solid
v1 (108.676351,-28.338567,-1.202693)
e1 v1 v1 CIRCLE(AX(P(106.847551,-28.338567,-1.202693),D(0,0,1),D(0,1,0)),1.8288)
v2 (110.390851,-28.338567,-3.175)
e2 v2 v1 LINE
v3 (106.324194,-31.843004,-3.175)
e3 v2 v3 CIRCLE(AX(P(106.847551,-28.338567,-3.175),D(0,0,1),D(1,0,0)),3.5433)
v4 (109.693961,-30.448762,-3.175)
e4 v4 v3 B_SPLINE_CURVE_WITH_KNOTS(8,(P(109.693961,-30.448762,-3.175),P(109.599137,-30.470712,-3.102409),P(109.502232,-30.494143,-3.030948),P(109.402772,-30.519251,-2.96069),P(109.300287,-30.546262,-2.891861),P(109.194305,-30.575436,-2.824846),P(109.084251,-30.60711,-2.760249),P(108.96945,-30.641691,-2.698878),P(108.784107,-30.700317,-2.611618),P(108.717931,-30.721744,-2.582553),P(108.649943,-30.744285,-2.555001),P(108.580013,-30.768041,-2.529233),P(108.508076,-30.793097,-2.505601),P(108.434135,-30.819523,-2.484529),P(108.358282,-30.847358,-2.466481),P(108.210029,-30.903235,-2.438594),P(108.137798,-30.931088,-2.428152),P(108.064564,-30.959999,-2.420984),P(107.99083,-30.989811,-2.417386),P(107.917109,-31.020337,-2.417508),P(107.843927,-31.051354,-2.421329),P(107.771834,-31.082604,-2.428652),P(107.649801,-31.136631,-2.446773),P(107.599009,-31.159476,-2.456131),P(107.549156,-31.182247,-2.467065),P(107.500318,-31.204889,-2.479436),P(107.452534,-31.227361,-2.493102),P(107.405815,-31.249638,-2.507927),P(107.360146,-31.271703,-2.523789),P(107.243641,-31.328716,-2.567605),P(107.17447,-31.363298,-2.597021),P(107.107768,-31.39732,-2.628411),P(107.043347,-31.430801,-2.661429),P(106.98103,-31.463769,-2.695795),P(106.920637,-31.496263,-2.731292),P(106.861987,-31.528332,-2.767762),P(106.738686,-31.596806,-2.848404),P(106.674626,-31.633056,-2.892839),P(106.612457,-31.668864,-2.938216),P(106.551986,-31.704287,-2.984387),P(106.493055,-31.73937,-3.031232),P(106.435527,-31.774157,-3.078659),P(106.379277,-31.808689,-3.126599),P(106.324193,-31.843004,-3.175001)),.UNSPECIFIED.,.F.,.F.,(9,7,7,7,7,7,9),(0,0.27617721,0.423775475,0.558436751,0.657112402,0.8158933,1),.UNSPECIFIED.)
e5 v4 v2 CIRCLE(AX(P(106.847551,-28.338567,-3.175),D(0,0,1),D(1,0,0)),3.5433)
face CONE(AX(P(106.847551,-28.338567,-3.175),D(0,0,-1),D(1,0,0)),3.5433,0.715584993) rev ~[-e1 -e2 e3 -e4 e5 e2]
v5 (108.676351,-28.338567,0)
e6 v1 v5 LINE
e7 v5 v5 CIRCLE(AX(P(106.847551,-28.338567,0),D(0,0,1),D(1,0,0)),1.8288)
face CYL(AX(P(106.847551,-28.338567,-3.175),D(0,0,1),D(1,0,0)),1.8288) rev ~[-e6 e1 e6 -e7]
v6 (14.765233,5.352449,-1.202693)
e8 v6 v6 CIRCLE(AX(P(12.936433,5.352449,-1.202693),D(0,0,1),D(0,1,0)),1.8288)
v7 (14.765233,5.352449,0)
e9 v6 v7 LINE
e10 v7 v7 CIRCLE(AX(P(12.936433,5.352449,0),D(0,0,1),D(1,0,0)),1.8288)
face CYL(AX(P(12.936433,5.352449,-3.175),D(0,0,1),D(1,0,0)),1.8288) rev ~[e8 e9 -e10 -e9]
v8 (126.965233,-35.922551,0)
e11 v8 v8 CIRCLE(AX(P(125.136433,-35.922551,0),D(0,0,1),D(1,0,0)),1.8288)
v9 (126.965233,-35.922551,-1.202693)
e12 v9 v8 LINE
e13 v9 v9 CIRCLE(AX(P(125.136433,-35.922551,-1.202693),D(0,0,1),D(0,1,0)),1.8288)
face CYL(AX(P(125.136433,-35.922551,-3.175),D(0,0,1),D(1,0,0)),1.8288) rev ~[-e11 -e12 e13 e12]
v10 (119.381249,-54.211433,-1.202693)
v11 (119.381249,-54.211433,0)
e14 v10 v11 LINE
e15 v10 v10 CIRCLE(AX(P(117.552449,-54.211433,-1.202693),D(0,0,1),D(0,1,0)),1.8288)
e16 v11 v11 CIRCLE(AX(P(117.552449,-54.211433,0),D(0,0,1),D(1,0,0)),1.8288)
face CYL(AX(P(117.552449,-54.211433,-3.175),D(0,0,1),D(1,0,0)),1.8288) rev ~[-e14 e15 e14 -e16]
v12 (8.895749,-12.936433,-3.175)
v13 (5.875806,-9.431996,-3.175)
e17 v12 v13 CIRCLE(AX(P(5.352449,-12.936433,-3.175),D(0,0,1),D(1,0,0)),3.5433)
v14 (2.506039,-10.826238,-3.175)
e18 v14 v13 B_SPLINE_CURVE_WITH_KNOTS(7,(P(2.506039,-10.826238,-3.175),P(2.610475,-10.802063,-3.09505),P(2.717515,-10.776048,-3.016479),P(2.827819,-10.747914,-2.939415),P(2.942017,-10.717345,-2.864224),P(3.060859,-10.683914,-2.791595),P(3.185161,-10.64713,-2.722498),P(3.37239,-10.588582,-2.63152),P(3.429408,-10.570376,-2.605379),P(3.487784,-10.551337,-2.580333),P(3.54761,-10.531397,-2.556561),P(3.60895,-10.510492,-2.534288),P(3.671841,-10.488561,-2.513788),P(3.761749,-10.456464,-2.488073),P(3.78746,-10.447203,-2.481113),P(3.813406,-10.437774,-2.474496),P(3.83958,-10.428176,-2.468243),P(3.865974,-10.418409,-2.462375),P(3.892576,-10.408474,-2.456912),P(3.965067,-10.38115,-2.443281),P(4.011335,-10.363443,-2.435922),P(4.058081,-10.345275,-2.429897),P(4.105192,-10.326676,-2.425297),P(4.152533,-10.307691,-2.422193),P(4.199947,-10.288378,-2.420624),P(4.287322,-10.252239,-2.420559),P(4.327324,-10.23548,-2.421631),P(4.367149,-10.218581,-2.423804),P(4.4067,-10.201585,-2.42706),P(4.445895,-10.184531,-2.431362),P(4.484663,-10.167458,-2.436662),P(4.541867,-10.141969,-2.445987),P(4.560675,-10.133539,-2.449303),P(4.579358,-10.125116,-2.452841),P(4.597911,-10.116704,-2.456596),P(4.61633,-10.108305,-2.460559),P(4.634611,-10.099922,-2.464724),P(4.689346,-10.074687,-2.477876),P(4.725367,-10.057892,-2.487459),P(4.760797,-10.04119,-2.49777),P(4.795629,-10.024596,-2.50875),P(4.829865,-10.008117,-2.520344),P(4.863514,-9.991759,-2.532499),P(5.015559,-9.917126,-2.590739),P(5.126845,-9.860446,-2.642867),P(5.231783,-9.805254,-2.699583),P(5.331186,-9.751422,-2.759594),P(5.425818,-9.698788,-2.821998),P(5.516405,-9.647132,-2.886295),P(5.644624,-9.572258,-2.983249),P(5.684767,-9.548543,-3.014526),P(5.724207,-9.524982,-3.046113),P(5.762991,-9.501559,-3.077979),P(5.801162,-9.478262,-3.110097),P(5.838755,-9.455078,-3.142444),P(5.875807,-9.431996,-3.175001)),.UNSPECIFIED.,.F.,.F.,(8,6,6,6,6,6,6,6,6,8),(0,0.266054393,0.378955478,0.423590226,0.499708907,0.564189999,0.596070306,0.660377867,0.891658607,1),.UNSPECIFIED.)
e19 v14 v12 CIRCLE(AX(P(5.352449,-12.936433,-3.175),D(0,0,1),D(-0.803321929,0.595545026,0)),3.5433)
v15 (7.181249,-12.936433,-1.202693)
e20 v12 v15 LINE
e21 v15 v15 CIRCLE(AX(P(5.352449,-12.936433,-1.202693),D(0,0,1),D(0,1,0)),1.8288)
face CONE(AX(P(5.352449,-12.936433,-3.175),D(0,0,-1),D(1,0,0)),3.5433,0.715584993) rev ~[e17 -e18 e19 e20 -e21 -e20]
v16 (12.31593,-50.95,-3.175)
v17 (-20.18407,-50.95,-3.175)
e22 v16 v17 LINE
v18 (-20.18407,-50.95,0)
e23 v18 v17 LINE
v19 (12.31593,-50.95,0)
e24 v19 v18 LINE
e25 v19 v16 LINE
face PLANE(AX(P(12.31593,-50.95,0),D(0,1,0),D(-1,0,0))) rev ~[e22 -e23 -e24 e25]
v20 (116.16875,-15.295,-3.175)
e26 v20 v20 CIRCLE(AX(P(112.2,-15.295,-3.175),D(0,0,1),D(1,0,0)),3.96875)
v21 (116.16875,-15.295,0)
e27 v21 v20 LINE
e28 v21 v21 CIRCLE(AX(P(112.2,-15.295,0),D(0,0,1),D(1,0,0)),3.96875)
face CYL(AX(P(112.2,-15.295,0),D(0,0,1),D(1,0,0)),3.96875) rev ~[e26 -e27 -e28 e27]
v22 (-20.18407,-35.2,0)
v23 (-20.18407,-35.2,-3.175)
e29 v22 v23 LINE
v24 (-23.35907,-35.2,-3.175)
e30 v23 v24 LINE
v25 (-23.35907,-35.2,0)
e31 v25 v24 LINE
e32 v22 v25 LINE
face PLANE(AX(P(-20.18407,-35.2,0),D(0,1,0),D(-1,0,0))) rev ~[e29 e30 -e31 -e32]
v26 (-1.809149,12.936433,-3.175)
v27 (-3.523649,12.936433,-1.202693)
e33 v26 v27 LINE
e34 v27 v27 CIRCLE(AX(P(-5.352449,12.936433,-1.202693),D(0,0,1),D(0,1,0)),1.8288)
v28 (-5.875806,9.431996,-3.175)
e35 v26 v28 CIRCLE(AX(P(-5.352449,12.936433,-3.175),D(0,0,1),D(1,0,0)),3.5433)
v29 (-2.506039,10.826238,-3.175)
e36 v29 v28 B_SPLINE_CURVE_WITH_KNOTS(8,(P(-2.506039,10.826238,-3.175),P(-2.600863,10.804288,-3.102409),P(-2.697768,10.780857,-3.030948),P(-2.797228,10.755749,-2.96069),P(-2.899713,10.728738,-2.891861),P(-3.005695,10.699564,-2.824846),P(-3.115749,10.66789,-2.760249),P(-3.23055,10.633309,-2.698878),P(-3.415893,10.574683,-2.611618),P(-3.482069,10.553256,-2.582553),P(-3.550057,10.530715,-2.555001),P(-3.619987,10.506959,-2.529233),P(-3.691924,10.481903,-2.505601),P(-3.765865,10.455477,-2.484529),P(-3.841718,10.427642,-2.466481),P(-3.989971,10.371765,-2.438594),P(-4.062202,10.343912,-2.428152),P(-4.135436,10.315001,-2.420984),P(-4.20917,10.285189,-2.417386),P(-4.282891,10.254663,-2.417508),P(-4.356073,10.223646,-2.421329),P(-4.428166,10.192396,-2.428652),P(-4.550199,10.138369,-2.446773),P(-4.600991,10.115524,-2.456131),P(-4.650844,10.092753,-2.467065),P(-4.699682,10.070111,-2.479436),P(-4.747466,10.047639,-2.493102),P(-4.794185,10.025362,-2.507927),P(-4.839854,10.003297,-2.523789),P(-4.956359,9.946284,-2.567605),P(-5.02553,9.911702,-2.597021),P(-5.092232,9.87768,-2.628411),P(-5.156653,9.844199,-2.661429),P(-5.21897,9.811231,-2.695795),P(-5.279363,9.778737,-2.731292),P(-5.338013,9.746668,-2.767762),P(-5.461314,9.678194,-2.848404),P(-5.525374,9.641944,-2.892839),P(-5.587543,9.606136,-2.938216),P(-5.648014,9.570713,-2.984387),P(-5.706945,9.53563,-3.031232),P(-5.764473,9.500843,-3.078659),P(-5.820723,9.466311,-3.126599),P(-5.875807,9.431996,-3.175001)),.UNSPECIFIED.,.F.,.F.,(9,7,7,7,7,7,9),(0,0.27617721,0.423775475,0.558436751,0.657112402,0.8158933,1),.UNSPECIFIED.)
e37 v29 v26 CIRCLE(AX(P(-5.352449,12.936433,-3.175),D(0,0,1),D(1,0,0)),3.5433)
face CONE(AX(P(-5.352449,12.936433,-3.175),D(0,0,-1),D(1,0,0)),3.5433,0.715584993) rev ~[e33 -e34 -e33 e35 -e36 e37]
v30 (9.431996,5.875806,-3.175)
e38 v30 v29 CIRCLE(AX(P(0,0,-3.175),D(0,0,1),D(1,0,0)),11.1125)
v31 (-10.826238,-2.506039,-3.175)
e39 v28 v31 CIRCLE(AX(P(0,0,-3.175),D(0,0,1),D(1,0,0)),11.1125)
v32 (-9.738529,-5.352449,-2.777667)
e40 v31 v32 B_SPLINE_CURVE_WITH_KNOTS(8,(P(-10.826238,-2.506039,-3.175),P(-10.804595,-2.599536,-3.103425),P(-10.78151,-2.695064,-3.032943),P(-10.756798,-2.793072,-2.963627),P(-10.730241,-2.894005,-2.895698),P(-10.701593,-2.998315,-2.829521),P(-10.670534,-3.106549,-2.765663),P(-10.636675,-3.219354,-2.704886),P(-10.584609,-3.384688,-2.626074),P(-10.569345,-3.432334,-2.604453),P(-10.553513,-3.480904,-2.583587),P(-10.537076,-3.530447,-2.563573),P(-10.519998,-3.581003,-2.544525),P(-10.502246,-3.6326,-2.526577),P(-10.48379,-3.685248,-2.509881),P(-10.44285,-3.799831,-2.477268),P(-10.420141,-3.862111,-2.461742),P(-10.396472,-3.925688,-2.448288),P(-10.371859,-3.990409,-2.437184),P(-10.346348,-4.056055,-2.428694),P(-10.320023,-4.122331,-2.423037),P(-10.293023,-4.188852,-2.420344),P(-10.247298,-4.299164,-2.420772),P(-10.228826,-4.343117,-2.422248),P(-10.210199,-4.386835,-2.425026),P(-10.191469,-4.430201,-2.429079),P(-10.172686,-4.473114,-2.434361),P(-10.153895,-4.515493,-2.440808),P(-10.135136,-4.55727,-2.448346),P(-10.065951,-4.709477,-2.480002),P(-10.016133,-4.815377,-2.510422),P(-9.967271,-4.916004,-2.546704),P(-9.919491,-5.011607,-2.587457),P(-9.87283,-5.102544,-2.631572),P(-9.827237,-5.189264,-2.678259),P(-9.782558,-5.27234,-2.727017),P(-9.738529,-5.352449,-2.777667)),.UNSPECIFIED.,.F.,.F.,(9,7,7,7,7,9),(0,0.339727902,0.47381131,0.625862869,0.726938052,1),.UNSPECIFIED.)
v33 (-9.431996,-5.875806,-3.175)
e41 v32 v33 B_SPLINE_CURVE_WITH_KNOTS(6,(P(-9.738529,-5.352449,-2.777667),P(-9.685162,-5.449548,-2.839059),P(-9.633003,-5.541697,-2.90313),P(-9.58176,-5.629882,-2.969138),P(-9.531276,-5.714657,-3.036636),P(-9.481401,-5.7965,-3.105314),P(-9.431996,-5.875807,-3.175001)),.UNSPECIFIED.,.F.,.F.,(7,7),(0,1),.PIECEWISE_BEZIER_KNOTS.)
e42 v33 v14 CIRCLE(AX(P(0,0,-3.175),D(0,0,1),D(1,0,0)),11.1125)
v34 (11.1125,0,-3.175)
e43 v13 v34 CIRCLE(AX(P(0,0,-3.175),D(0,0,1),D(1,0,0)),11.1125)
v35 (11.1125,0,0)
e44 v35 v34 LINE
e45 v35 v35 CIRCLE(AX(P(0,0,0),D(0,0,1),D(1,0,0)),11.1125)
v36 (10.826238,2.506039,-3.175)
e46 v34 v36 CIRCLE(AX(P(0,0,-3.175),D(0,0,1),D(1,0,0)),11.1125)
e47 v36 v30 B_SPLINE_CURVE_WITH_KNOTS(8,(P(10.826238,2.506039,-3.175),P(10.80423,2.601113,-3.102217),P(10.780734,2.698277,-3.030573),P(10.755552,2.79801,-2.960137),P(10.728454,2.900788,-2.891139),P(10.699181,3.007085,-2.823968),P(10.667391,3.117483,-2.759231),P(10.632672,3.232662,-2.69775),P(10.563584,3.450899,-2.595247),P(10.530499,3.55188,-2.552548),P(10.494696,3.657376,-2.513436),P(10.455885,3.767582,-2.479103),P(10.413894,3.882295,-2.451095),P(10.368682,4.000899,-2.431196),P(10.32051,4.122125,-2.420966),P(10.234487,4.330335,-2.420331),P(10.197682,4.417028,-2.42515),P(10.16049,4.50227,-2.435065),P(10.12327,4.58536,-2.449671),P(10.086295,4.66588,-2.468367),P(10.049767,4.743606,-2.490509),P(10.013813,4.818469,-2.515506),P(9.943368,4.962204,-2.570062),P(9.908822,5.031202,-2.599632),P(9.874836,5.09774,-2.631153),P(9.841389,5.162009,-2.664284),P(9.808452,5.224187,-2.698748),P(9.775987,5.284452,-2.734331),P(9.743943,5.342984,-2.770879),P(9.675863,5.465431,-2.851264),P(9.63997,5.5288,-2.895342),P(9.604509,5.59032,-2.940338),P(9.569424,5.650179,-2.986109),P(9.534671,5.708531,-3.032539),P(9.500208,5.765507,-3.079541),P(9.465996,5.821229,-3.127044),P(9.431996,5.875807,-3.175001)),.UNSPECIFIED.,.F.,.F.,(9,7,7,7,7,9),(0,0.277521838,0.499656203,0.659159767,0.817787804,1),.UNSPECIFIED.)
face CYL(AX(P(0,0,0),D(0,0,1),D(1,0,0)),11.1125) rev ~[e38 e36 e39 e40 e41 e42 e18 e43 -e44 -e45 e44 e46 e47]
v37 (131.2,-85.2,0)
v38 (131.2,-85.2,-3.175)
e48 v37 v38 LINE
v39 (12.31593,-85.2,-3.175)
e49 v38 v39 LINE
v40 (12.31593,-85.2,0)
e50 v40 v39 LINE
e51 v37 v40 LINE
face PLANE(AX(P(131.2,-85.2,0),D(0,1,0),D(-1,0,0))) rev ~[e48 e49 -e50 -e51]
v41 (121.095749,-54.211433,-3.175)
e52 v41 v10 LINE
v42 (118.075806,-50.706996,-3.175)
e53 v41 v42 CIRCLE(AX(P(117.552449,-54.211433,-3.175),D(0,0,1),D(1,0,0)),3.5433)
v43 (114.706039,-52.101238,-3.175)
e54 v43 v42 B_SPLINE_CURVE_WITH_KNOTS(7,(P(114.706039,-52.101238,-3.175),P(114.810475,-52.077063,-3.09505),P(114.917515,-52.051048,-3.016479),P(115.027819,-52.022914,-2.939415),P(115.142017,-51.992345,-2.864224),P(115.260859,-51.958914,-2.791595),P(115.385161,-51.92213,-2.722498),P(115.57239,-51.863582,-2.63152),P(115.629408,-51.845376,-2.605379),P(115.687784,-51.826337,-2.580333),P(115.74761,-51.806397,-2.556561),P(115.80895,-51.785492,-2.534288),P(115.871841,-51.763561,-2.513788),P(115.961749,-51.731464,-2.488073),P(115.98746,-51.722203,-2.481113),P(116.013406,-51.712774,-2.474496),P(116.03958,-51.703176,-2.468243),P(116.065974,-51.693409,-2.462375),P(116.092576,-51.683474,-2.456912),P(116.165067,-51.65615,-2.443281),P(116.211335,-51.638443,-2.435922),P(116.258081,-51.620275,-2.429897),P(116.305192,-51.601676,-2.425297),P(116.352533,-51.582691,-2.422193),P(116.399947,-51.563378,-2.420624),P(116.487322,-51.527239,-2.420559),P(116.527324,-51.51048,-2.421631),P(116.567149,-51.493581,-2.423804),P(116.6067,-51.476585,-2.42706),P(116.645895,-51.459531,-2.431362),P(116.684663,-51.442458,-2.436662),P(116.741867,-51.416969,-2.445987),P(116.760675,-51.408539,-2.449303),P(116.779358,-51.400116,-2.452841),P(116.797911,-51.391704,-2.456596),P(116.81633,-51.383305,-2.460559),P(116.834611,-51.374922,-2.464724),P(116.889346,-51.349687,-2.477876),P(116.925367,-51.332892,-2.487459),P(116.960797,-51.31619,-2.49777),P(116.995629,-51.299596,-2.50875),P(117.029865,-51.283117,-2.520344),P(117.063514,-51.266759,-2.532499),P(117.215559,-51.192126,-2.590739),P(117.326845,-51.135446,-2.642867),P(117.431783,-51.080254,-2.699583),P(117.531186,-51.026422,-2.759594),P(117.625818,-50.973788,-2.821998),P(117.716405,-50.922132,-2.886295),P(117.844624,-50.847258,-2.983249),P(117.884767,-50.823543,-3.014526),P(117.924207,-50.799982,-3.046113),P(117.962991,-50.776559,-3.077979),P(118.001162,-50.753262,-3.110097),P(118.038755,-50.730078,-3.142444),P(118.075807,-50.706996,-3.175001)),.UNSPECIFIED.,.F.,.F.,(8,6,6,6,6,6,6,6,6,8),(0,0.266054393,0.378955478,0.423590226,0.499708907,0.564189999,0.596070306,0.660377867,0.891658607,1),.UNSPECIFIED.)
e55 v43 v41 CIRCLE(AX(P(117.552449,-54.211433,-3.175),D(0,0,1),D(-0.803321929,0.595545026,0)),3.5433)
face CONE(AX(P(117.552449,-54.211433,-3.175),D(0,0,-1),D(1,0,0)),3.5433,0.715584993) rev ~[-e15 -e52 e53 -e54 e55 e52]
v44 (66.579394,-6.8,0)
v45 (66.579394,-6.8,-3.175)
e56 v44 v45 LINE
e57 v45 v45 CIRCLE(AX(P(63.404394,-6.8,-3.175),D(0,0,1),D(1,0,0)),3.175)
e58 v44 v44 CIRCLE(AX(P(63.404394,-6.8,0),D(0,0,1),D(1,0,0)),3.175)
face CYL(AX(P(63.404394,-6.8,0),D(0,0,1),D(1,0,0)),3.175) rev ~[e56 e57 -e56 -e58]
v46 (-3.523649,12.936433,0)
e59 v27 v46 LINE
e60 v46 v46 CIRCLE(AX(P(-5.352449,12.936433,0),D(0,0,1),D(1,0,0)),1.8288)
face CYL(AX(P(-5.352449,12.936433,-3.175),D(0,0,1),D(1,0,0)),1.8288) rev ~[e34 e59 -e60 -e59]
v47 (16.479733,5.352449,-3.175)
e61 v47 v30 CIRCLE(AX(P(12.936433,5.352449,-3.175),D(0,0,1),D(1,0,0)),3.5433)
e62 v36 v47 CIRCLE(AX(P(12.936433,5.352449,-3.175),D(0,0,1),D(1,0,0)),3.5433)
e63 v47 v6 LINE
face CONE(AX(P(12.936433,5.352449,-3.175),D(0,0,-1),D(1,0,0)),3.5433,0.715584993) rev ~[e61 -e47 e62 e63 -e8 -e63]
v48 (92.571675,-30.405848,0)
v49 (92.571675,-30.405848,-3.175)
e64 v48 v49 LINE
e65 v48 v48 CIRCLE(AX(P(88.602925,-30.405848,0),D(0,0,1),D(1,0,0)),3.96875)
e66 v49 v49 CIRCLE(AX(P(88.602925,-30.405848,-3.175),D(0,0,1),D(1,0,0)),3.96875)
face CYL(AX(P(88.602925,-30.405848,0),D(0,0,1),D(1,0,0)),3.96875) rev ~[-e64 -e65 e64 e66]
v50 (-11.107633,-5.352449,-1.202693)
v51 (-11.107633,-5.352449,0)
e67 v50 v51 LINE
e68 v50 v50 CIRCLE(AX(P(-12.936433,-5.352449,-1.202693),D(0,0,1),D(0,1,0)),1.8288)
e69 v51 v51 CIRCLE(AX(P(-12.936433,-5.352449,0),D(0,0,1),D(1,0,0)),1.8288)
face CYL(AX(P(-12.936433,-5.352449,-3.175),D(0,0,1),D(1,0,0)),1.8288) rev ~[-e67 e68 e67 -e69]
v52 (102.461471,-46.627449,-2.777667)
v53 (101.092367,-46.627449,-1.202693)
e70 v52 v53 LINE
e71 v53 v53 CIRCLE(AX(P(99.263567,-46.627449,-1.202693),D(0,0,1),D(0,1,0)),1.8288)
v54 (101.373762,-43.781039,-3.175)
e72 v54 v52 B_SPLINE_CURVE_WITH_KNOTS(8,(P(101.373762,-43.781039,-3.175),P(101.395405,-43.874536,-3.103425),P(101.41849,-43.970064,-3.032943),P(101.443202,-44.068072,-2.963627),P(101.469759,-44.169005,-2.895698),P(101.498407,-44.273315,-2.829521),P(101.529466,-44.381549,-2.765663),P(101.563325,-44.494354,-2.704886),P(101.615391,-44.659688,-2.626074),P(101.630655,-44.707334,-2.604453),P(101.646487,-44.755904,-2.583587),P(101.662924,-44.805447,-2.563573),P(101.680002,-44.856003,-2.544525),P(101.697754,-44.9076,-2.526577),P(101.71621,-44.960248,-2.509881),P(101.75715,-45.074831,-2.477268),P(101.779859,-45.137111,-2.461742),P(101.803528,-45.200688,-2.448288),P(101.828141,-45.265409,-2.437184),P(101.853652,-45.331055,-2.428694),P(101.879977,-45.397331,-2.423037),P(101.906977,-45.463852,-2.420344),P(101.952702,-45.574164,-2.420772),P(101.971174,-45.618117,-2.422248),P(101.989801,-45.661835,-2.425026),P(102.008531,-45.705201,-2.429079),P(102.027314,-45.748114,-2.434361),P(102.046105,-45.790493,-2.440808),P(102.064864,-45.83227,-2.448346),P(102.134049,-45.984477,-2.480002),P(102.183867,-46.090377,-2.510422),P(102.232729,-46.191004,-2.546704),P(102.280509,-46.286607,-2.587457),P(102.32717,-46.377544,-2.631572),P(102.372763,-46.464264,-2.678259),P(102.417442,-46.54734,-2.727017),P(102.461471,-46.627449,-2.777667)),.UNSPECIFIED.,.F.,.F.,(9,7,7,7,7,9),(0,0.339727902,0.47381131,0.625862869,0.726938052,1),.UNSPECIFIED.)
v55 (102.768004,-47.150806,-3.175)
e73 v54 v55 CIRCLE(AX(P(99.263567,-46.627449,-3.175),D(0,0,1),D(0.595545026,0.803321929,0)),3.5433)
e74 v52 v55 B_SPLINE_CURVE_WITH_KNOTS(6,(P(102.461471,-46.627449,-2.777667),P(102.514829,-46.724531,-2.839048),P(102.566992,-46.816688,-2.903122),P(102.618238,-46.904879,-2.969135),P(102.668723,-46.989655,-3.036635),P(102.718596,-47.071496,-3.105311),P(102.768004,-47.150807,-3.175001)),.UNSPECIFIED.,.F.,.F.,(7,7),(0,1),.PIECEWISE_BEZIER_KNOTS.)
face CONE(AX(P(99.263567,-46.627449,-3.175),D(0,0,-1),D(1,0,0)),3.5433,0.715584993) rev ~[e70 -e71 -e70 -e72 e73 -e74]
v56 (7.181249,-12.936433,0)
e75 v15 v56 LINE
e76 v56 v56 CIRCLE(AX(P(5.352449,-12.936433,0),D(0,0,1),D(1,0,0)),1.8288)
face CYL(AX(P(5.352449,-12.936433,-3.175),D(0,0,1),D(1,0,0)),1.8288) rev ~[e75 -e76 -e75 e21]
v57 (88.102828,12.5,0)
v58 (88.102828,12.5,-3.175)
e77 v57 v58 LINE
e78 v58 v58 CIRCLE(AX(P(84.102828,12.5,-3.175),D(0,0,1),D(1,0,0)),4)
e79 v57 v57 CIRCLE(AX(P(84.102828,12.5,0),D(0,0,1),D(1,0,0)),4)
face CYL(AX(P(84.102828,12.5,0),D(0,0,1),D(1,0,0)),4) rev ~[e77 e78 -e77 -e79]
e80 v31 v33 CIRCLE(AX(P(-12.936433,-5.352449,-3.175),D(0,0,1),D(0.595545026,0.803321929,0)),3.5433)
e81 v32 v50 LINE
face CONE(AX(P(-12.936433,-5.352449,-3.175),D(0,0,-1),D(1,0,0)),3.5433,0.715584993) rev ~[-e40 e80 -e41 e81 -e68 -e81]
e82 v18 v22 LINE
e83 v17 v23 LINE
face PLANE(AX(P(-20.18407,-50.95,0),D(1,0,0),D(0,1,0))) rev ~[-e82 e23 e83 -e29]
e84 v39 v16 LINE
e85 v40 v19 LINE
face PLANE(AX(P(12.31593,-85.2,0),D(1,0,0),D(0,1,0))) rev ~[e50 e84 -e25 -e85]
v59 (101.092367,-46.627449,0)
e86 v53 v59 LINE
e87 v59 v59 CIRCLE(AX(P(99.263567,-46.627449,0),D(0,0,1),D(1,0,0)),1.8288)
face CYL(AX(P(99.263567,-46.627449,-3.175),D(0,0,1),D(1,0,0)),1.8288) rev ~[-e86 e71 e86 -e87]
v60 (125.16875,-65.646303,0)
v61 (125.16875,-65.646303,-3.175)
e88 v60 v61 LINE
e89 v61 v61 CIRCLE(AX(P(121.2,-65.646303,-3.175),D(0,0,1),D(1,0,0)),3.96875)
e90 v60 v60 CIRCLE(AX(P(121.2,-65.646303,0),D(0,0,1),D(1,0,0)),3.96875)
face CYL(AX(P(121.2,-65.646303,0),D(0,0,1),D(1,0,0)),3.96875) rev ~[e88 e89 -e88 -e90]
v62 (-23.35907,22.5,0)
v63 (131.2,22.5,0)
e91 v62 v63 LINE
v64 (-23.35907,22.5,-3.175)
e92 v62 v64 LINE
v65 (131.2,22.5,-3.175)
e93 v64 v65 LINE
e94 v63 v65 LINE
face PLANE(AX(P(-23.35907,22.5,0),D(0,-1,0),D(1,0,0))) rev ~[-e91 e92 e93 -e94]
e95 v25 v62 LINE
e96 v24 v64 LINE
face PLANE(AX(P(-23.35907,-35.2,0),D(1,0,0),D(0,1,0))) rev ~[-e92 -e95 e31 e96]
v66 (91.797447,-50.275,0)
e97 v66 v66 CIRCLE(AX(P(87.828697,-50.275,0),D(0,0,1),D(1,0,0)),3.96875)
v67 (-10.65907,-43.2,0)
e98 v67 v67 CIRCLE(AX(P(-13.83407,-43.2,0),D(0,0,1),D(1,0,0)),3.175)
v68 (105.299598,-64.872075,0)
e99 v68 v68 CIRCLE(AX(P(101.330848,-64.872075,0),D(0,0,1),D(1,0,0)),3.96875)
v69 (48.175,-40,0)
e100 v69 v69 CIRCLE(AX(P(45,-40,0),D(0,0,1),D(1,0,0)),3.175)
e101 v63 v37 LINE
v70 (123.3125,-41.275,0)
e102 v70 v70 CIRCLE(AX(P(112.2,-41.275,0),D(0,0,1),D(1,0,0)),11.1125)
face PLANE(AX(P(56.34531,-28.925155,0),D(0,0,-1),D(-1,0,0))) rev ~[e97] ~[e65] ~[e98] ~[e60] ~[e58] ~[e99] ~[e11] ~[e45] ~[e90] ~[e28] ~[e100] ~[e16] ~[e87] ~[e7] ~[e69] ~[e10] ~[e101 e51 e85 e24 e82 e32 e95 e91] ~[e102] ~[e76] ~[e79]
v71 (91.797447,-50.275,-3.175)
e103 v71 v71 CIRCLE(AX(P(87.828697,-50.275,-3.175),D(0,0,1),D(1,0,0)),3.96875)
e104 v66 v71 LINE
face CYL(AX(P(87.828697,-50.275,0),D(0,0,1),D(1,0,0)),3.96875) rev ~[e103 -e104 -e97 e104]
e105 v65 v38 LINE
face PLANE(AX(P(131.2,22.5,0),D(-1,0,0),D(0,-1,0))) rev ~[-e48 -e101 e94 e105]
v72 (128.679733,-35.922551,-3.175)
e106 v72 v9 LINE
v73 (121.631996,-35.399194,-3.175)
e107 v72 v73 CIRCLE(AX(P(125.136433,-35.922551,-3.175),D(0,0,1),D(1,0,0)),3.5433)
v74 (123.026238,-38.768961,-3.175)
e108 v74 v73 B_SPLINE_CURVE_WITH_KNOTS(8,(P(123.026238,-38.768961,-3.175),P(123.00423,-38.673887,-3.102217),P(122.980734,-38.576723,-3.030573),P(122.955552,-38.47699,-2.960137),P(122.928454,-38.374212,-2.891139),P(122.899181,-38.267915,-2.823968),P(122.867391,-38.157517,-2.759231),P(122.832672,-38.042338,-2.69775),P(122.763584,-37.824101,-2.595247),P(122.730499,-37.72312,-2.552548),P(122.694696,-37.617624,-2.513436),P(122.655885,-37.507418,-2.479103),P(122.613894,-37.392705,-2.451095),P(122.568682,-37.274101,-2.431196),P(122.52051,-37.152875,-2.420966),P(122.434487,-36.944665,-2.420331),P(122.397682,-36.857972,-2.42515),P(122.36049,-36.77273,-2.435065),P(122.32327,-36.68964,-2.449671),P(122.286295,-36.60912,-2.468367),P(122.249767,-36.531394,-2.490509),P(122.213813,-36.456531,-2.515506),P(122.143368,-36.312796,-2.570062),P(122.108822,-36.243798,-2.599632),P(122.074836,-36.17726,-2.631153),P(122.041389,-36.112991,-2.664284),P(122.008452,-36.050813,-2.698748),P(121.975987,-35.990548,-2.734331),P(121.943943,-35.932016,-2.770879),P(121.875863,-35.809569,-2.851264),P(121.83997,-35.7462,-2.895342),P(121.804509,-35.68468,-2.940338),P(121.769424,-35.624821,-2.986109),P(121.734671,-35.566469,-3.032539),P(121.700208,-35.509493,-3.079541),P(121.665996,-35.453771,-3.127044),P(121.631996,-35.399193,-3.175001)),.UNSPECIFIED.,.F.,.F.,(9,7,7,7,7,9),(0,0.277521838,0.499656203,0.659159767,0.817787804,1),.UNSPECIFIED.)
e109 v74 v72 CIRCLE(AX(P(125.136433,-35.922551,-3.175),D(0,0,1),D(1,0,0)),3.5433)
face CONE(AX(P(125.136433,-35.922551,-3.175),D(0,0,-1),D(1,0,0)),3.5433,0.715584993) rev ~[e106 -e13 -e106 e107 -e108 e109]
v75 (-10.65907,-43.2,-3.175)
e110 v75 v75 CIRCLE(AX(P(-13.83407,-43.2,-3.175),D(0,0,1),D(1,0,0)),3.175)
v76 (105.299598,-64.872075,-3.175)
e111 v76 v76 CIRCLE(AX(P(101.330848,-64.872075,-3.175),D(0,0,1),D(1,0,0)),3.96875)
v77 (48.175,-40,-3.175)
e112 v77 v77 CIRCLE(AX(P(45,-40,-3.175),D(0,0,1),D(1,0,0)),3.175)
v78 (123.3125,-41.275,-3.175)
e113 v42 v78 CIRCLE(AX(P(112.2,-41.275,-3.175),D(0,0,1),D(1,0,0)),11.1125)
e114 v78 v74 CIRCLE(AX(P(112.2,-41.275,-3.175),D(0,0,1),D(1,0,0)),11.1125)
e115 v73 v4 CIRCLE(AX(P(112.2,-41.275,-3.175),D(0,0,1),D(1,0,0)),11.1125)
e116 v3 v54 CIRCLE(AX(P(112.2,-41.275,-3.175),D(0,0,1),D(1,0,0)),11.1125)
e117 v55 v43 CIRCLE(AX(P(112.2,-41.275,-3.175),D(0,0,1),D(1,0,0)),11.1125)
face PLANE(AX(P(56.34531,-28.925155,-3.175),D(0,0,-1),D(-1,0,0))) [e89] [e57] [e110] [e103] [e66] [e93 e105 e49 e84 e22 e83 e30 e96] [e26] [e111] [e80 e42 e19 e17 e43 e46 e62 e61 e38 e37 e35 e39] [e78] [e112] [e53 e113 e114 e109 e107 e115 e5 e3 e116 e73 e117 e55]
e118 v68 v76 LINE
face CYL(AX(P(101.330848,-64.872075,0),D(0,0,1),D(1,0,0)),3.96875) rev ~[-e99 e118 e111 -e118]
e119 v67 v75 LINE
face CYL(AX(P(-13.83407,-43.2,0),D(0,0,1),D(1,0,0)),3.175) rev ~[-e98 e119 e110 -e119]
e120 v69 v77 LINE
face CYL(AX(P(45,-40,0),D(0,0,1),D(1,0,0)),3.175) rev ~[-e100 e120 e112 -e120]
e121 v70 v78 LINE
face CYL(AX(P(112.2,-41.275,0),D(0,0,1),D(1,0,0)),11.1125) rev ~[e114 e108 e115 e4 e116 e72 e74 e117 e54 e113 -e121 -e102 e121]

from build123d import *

# Parameters (mm, degrees)
SKETCH1_R                                      = 11.1125
SKETCH1_R_2                                    = 3.175
SKETCH1_R_3                                    = 3.96875
SKETCH1_R_4                                    = 4
BOSS_EXTRUDE1_DEPTH                            = 3.175
CSK_FOR_6_FLAT_HEAD_MACHINE_SCREW1_D           = 3.6576
CSK_FOR_6_FLAT_HEAD_MACHINE_SCREW1_DEPTH       = 8
CSK_FOR_6_FLAT_HEAD_MACHINE_SCREW1_CSINK_D     = 7.0866
CSK_FOR_6_FLAT_HEAD_MACHINE_SCREW1_CSINK_ANGLE = 82
CSK_FOR_6_FLAT_HEAD_MACHINE_SCREW1_TIP         = 1.0988539


with BuildPart() as part:
    # Sketch1 → Boss-Extrude1 (new body)
    with BuildSketch(Plane.XY):
        Polygon((-23.359070214, 22.5), (131.2, 22.5), (131.2, -85.2), (12.315929786, -85.2), (12.315929786, -50.95), (-20.184070214, -50.95), (-20.184070214, -35.2), (-23.359070214, -35.2), align=None)
        Circle(SKETCH1_R, mode=Mode.SUBTRACT)
        with Locations((112.2, -41.275)):
            Circle(SKETCH1_R, mode=Mode.SUBTRACT)
        with Locations((-13.834070214, -43.2)):
            Circle(SKETCH1_R_2, mode=Mode.SUBTRACT)
        with Locations((45, -40)):
            Circle(SKETCH1_R_2, mode=Mode.SUBTRACT)
        with Locations((63.404393546, -6.8)):
            Circle(SKETCH1_R_2, mode=Mode.SUBTRACT)
        with Locations((88.602925496, -30.405847557)):
            Circle(SKETCH1_R_3, mode=Mode.SUBTRACT)
        with Locations((112.2, -15.295)):
            Circle(SKETCH1_R_3, mode=Mode.SUBTRACT)
        with Locations((87.828697203, -50.275)):
            Circle(SKETCH1_R_3, mode=Mode.SUBTRACT)
        with Locations((101.330847557, -64.872074504)):
            Circle(SKETCH1_R_3, mode=Mode.SUBTRACT)
        with Locations((121.2, -65.646302797)):
            Circle(SKETCH1_R_3, mode=Mode.SUBTRACT)
        with Locations((84.102828318, 12.5)):
            Circle(SKETCH1_R_4, mode=Mode.SUBTRACT)
    extrude(amount=-BOSS_EXTRUDE1_DEPTH)

    # CSK for #6 Flat Head Machine Screw1
    with Locations(Plane(origin=(0, 0, -3.175), x_dir=(-1, 0, 0), z_dir=(0, 0, -1))):
        with Locations((-125.136432586, -35.922550846), (-106.847550846, -28.338567414), (-99.263567414, -46.627449154), (-117.552449154, -54.211432586), (-5.352449154, -12.936432586), (-12.936432586, 5.352449154), (5.352449154, 12.936432586), (12.936432586, -5.352449154)):
            CounterSinkHole(CSK_FOR_6_FLAT_HEAD_MACHINE_SCREW1_D / 2, CSK_FOR_6_FLAT_HEAD_MACHINE_SCREW1_CSINK_D / 2, depth=CSK_FOR_6_FLAT_HEAD_MACHINE_SCREW1_DEPTH, counter_sink_angle=CSK_FOR_6_FLAT_HEAD_MACHINE_SCREW1_CSINK_ANGLE)
            with Locations((0, 0, -(CSK_FOR_6_FLAT_HEAD_MACHINE_SCREW1_DEPTH + CSK_FOR_6_FLAT_HEAD_MACHINE_SCREW1_TIP / 2))):  # 118° drill point
                Cone(0, CSK_FOR_6_FLAT_HEAD_MACHINE_SCREW1_D / 2, CSK_FOR_6_FLAT_HEAD_MACHINE_SCREW1_TIP, mode=Mode.SUBTRACT)


solid = part.part
